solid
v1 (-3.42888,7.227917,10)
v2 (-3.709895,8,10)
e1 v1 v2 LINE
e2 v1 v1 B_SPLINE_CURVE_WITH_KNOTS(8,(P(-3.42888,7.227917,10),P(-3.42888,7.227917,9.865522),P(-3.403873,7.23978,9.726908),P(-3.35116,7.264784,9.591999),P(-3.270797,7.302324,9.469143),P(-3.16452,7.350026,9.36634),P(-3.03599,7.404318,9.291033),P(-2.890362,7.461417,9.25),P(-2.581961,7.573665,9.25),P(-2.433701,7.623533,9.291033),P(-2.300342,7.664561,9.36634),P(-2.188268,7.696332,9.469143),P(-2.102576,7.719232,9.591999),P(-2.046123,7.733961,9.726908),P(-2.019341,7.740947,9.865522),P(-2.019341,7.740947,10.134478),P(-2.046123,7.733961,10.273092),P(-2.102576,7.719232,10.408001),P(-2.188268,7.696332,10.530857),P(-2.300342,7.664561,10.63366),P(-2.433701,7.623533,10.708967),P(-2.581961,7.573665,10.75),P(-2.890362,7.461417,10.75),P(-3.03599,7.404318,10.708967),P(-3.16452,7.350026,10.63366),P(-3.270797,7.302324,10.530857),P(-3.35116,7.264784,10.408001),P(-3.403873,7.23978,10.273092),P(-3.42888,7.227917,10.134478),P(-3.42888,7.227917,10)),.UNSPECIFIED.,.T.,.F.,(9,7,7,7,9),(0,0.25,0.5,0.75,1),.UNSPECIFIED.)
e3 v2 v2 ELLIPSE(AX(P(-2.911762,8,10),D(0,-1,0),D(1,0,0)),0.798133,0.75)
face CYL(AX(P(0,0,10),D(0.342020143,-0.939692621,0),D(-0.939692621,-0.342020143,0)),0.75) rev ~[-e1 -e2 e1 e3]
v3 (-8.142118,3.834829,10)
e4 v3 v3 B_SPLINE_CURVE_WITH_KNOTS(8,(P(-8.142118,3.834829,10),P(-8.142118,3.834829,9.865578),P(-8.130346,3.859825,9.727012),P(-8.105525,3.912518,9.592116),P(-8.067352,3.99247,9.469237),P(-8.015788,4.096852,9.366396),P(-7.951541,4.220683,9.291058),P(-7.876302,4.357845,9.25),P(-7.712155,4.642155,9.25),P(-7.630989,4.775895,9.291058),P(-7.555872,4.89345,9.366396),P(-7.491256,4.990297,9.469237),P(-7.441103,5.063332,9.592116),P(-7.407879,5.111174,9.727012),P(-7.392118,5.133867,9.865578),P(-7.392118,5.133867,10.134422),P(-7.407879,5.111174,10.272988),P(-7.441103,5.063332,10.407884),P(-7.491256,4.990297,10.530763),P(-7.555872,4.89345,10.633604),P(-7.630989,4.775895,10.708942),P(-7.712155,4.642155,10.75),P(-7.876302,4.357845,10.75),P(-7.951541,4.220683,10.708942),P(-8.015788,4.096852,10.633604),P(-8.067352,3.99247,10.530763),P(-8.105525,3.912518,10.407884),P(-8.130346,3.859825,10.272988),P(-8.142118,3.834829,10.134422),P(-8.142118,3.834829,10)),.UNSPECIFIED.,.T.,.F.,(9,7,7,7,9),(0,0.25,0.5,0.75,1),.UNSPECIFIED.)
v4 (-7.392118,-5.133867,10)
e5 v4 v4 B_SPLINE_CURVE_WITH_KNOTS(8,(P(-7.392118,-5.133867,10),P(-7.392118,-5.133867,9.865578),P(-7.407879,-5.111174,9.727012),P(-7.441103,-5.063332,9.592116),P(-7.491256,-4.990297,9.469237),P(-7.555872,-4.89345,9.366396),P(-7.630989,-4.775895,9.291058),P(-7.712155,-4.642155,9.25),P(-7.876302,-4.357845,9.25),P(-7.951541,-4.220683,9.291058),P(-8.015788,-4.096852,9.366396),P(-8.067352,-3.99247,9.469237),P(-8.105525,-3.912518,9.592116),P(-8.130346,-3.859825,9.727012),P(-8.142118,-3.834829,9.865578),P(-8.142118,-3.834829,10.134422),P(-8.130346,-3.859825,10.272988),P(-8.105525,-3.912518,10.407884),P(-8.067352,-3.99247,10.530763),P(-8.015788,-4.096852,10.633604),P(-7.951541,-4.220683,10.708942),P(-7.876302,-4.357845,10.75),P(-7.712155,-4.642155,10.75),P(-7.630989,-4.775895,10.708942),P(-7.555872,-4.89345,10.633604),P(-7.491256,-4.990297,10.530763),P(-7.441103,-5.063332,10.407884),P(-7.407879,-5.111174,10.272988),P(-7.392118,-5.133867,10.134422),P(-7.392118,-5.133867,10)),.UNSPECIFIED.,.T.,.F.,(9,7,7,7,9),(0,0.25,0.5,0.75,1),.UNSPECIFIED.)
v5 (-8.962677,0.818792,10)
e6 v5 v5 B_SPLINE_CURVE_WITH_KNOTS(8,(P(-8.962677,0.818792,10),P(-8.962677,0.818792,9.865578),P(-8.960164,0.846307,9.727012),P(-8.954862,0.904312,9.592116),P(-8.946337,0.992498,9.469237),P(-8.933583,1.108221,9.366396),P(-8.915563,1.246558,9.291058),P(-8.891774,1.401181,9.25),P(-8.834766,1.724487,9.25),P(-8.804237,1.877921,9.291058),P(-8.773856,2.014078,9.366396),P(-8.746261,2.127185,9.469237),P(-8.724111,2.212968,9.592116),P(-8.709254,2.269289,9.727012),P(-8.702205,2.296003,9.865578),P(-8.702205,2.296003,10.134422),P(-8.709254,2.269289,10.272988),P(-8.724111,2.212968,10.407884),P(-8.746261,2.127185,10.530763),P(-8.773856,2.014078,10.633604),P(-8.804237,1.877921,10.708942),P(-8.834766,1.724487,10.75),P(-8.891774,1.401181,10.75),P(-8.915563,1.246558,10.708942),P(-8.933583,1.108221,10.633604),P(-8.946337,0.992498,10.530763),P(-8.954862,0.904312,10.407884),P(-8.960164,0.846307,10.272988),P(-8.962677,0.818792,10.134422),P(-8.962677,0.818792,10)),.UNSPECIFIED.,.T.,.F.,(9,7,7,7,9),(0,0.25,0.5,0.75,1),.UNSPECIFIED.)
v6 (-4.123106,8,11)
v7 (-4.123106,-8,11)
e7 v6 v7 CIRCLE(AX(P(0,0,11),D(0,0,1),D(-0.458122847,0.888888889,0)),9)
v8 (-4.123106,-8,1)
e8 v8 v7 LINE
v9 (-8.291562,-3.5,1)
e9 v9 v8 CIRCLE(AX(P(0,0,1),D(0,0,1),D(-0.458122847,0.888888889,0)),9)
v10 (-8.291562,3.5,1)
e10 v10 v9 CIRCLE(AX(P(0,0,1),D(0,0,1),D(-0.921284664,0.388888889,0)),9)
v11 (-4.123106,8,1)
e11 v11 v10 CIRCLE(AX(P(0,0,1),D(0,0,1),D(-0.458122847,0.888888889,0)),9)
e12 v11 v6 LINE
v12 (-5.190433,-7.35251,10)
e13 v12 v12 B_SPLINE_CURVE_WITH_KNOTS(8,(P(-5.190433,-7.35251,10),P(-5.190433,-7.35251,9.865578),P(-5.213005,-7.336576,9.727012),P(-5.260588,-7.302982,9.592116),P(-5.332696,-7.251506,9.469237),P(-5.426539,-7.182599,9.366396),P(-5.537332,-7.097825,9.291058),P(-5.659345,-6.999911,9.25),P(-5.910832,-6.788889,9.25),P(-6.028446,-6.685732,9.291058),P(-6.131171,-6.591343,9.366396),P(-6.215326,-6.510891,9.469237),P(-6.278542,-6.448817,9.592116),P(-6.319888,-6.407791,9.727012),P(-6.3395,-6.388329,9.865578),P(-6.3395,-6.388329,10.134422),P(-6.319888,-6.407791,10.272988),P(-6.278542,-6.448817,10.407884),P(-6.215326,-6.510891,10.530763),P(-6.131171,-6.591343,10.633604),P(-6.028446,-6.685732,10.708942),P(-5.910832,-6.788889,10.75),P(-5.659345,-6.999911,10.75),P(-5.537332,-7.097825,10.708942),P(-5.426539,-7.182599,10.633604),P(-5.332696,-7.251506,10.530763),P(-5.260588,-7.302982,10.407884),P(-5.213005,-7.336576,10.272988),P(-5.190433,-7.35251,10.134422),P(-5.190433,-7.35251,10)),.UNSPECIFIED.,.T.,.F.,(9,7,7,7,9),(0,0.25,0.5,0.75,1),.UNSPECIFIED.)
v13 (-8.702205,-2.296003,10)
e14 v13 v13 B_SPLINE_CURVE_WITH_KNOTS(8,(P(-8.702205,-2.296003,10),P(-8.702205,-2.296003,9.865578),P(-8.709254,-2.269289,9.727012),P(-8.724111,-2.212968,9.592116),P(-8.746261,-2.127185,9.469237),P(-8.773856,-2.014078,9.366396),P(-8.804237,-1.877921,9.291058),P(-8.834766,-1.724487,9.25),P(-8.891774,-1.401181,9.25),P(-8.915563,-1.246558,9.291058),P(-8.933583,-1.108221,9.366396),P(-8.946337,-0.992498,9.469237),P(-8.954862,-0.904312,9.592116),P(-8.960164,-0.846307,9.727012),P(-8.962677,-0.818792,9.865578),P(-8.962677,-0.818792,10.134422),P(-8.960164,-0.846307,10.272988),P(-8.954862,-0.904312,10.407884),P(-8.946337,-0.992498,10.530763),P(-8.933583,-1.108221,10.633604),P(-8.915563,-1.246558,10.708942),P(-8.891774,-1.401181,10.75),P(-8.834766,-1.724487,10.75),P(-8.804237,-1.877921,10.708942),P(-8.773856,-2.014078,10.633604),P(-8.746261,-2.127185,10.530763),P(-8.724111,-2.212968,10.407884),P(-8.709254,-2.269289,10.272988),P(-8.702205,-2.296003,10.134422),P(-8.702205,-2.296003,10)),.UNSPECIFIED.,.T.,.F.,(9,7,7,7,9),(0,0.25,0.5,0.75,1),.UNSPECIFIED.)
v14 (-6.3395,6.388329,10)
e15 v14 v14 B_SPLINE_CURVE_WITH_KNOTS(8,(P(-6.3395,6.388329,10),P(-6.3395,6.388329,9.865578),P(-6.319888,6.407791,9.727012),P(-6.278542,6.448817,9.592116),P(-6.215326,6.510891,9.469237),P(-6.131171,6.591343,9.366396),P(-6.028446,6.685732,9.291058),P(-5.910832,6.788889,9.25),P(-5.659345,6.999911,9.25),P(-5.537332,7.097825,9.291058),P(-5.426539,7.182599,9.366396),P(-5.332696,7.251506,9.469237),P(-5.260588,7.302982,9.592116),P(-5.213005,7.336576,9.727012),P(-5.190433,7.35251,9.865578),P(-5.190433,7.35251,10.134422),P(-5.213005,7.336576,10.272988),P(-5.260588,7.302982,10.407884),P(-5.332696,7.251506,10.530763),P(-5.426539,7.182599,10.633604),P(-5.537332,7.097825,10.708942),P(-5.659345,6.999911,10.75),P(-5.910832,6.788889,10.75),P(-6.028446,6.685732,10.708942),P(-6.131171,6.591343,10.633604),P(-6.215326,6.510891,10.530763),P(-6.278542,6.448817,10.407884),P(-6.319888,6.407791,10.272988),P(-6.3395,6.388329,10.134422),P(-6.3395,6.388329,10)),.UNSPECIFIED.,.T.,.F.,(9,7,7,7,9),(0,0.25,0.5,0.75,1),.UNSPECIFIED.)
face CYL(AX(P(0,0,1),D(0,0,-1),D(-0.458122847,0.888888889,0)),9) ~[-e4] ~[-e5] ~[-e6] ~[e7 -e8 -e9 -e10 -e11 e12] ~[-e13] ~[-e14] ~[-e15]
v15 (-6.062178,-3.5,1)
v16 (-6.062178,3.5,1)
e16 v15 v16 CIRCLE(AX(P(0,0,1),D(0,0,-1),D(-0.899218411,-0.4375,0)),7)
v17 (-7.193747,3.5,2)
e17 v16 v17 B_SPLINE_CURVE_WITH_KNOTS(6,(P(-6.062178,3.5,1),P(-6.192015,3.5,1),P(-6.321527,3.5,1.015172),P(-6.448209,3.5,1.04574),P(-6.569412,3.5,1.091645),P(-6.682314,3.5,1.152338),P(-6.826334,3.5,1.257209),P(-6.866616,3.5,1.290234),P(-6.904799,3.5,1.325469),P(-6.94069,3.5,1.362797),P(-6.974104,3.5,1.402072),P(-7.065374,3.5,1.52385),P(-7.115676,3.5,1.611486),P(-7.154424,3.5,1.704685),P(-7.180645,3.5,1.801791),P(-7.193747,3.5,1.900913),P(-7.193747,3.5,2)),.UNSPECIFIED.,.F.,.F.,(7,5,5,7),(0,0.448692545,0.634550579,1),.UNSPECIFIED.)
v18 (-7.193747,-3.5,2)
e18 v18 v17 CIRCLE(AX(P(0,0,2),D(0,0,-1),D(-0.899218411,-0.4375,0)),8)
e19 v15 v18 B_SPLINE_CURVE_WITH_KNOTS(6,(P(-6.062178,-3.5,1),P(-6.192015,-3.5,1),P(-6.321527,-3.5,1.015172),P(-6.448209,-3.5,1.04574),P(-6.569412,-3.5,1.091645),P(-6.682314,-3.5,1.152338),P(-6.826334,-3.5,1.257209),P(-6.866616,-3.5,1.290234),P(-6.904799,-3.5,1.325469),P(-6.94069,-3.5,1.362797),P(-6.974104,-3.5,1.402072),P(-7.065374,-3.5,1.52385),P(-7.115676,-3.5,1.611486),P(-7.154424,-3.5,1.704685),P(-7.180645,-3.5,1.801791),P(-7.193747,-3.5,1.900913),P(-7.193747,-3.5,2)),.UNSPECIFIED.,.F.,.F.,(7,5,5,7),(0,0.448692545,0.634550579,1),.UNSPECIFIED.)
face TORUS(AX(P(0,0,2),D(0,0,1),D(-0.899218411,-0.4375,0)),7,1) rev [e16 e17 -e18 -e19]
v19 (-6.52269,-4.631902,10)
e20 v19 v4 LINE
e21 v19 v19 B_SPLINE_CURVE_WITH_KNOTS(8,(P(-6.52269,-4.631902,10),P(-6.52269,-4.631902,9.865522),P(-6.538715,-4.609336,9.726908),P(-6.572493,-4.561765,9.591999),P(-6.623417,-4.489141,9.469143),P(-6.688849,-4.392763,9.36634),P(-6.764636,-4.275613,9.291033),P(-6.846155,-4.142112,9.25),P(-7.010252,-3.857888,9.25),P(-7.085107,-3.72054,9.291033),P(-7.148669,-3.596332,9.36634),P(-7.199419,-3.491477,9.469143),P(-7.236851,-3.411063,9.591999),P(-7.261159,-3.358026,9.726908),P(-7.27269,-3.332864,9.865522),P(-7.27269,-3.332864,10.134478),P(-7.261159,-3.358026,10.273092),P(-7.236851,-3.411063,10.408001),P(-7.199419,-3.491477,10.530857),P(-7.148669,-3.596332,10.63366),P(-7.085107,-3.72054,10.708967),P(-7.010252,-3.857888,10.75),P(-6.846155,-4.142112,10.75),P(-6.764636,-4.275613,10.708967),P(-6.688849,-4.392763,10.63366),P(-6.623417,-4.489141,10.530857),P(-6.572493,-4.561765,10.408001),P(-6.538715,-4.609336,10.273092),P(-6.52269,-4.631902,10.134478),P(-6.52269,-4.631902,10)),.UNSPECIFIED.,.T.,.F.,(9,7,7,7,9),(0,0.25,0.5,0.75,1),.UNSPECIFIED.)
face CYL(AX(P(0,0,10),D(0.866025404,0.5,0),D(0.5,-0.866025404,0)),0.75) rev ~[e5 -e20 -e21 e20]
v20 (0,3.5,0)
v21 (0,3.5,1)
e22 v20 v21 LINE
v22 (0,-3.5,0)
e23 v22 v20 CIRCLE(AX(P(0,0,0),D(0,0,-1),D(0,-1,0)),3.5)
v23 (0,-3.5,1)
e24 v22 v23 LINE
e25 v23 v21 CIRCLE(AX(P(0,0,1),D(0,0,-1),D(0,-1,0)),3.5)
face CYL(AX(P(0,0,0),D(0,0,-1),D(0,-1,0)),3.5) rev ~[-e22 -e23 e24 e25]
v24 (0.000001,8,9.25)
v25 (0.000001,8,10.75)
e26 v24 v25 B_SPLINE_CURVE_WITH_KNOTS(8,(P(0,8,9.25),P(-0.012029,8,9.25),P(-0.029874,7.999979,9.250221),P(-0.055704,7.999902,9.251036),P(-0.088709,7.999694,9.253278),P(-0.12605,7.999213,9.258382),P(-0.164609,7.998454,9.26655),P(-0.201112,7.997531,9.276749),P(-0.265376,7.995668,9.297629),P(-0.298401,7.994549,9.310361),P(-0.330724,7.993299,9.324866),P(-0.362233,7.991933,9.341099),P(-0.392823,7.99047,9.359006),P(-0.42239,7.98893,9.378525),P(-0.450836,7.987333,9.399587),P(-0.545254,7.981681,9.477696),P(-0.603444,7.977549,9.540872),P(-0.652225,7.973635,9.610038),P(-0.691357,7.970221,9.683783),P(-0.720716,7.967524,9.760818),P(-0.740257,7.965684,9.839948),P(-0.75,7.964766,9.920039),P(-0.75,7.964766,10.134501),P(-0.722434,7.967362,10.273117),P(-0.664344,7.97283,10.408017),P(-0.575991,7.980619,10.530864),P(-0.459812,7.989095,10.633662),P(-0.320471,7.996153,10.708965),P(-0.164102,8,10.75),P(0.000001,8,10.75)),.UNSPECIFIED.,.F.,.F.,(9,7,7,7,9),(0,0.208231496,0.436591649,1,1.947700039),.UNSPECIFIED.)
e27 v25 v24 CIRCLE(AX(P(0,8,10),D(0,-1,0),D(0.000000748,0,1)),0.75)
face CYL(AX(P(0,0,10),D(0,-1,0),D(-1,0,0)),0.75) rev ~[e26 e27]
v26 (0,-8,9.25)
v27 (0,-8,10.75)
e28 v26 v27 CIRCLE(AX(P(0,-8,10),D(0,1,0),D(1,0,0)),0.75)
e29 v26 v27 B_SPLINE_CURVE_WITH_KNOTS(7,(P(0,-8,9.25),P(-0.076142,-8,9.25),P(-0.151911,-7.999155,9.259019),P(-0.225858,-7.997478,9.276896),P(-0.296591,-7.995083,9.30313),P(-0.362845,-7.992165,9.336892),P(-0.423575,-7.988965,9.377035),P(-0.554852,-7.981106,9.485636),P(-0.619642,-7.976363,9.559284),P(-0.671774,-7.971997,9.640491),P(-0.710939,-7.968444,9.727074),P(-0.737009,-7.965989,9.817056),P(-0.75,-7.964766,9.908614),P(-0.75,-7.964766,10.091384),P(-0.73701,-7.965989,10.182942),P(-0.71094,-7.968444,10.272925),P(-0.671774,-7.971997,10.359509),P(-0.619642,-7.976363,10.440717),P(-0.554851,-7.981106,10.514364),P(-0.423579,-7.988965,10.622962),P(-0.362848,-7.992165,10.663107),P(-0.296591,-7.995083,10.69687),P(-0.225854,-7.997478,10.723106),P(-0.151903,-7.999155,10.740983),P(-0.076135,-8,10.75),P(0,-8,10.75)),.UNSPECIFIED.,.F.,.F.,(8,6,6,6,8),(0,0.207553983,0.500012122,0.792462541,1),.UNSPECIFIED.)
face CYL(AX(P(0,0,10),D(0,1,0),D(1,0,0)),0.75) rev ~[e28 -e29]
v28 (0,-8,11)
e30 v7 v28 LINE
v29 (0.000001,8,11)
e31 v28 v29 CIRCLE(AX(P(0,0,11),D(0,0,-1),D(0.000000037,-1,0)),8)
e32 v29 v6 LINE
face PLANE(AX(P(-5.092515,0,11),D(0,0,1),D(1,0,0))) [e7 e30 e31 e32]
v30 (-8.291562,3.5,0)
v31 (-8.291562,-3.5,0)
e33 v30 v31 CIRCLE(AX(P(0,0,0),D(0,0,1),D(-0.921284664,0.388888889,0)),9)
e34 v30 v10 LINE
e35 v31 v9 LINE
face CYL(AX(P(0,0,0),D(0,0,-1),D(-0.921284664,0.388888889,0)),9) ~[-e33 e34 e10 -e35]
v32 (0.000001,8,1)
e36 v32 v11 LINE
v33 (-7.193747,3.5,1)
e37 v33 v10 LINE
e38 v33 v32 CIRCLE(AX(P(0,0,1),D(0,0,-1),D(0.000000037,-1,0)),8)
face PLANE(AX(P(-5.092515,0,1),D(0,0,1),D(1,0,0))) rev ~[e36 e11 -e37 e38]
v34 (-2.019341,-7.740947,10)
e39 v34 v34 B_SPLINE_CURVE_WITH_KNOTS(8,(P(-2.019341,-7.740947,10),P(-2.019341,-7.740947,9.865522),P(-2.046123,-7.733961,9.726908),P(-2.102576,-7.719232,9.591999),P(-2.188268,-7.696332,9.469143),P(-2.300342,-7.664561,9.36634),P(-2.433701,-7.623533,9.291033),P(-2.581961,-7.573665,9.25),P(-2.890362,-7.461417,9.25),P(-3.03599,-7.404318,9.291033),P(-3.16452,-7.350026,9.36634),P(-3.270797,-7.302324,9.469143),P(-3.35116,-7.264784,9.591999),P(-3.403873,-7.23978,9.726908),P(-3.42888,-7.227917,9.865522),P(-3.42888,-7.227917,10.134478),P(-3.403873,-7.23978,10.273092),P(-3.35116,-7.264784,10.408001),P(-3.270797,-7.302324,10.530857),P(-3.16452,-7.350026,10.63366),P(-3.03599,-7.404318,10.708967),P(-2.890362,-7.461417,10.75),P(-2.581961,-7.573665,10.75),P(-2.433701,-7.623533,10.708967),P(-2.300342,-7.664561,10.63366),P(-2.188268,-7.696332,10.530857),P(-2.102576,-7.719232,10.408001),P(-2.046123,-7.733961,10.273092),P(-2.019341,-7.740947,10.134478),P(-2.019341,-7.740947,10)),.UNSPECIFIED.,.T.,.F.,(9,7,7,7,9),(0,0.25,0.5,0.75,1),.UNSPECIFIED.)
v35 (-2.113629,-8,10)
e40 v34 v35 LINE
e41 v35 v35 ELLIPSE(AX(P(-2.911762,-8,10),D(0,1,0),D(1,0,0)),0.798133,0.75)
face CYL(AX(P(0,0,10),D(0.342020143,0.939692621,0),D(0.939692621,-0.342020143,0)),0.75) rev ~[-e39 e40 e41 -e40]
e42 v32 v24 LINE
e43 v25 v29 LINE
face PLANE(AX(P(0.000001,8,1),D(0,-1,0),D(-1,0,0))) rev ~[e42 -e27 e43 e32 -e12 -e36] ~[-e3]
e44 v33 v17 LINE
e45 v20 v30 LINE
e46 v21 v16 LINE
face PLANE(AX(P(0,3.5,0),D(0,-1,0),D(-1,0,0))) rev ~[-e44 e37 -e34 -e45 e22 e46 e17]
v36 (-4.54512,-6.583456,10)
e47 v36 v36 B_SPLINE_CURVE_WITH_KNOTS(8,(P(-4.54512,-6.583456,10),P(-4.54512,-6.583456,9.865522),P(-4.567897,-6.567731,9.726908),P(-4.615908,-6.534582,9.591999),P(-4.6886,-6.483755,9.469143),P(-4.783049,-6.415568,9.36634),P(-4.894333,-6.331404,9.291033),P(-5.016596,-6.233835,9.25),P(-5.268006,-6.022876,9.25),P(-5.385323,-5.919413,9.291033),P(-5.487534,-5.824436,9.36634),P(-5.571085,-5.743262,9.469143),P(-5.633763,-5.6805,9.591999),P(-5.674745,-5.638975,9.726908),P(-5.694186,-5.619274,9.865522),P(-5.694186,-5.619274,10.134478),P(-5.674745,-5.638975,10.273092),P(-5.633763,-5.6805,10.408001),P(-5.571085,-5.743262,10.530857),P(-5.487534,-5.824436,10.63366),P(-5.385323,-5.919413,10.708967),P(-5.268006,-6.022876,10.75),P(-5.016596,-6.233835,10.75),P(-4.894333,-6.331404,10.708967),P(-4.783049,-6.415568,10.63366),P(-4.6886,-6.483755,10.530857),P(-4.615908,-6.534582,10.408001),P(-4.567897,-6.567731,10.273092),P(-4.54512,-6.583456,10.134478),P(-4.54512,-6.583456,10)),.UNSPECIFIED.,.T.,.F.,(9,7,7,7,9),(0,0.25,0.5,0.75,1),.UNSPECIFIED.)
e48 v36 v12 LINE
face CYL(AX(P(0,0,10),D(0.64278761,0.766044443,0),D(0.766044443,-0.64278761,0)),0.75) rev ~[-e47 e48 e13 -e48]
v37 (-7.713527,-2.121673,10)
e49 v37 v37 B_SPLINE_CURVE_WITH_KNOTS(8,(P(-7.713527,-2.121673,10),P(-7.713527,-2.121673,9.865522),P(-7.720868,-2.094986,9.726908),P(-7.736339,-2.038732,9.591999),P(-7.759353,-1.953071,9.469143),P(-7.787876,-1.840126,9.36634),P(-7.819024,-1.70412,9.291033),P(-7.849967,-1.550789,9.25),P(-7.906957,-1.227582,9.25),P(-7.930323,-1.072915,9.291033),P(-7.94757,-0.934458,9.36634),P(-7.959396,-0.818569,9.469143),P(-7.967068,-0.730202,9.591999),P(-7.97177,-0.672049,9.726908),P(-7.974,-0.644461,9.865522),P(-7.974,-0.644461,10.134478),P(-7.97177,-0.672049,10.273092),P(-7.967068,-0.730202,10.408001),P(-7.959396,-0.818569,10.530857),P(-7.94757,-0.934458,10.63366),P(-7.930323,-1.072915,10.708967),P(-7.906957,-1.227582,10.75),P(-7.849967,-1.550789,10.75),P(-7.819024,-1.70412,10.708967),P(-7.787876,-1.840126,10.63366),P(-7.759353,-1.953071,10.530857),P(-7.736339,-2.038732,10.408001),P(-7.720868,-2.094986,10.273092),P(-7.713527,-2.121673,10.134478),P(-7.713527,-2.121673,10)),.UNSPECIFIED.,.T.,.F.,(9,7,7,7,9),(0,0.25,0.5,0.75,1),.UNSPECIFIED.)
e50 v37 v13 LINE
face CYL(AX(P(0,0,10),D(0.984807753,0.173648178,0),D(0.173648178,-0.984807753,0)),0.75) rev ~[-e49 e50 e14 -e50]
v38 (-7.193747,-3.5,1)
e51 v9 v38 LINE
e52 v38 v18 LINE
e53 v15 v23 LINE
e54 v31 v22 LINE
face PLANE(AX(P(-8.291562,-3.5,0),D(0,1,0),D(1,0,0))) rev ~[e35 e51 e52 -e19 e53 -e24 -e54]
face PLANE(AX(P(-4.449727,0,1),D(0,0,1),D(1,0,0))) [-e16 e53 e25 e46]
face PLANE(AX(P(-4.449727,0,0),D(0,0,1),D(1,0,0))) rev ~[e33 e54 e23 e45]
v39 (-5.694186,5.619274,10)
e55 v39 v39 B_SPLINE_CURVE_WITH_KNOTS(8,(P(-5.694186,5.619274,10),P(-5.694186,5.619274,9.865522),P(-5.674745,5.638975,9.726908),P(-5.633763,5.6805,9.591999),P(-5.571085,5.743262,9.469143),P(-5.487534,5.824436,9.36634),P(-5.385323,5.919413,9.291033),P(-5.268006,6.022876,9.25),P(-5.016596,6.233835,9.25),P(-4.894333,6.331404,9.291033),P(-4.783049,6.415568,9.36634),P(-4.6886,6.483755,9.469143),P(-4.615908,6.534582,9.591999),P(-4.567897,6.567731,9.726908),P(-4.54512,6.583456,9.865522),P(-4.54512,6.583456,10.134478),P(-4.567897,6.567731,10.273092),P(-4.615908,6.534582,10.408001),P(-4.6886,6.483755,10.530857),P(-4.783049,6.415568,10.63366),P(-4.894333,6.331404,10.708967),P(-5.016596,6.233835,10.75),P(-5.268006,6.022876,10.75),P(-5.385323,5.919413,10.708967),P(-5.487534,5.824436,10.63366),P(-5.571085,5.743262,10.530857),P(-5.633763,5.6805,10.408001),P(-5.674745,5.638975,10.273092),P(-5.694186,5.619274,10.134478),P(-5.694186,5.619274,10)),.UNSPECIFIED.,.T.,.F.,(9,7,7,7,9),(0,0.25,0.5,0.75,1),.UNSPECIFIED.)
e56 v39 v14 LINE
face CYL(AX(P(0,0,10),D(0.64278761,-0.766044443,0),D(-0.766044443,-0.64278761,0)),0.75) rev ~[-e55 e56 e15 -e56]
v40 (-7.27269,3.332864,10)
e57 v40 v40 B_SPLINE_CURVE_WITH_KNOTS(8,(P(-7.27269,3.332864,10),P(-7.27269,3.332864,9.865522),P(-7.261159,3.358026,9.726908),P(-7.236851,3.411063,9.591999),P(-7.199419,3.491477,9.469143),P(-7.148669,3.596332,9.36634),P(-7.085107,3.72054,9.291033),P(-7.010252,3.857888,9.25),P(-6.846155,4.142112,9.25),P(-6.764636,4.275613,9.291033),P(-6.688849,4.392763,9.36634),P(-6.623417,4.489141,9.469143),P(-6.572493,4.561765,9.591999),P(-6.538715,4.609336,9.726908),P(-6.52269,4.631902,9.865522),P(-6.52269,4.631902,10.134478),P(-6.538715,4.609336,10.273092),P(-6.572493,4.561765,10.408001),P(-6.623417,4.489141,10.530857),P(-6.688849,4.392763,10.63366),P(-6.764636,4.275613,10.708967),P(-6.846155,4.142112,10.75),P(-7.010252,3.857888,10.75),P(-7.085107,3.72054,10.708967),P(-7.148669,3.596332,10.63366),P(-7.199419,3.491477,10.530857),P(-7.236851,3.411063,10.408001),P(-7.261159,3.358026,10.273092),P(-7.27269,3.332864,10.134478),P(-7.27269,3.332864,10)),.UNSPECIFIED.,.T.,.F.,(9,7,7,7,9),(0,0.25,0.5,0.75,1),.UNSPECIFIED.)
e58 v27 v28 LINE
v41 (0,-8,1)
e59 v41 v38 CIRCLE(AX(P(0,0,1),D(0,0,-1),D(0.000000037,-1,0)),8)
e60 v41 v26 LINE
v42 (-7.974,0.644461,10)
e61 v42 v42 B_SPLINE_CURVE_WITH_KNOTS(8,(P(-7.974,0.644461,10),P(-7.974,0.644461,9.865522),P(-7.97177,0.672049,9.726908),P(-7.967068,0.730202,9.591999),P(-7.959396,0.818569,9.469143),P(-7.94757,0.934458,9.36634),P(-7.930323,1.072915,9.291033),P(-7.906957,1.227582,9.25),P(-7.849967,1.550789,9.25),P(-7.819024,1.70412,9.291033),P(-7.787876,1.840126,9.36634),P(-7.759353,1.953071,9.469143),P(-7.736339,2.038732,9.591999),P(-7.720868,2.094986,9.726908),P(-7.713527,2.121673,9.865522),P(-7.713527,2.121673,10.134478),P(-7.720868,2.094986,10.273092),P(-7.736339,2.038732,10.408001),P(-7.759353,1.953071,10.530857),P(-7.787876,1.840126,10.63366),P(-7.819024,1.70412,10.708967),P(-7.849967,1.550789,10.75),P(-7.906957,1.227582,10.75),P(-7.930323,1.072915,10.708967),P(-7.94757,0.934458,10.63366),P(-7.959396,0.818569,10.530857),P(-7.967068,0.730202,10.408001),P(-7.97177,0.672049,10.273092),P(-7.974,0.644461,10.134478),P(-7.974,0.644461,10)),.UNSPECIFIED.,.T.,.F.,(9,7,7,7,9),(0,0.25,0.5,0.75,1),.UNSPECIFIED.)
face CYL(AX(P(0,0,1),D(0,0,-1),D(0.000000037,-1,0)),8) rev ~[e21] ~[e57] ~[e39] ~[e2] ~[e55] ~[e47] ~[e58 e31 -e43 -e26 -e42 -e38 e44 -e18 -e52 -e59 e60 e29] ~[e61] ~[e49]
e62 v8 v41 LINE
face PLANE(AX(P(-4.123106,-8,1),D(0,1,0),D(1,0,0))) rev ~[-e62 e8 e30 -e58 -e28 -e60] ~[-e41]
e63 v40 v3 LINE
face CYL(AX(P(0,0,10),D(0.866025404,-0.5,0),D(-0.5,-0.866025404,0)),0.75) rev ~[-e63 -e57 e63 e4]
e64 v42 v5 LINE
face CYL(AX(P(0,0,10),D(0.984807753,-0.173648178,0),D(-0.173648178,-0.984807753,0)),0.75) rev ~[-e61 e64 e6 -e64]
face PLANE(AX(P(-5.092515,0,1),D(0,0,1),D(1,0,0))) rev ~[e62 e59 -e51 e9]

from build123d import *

# Parameters (mm, degrees)
EXTRUDE_1_DEPTH          = 1
EXTRUDE_2_DEPTH          = 10
SKETCH_3_R               = 0.75
CUT_EXTRUDE_1_DEPTH      = 10
PATTERN_CIRCULAR_1_COUNT = 18
FILLET_1_R               = 1


with BuildPart() as part:
    # Эскиз1 → Бобышка-Вытянуть1 (new body)
    with BuildSketch(Plane.XY):
        with BuildLine():
            Line((0, 3.5), (-8.291561976, 3.5))
            ThreePointArc((-8.291561976, 3.5), (-9, 0), (-8.291561976, -3.5))
            Line((-8.291561976, -3.5), (0, -3.5))
            ThreePointArc((0, -3.5), (-3.5, 0), (0, 3.5))
        make_face()
    extrude(amount=EXTRUDE_1_DEPTH)

    # Эскиз2 → Бобышка-Вытянуть2 (add)
    with BuildSketch(Plane.XY.offset(1)):
        with BuildLine():
            Line((5.61e-07, 8), (-4.123105626, 8))
            ThreePointArc((-4.123105626, 8), (-9, 0), (-4.123105626, -8))
            Line((-4.123105626, -8), (2.99e-07, -8))
            ThreePointArc((2.99e-07, -8), (-8, 1.31e-07), (5.61e-07, 8))
        make_face()
    extrude(amount=EXTRUDE_2_DEPTH)

    # Эскиз3 → Вырез-Вытянуть1 (cut)
    with BuildSketch(Plane(origin=(0, 0, 0), x_dir=(1, 0, 0), z_dir=(0, 1, 0))):
        with Locations((0, -10)):
            Circle(SKETCH_3_R)
    cut_extrude_1 = extrude(amount=-CUT_EXTRUDE_1_DEPTH, mode=Mode.SUBTRACT)

    # Круговой массив1: Вырез-Вытянуть1 ×18 about axis
    pattern_circular_1_axis = Axis((0, 0, 0), (0, 0, -1))
    for i in range(1, PATTERN_CIRCULAR_1_COUNT):
        add(cut_extrude_1.rotate(pattern_circular_1_axis, i * 360 / PATTERN_CIRCULAR_1_COUNT), mode=Mode.SUBTRACT)

    # Скругление1
    fillet_1_edges = [part.edges().sort_by_distance(p)[0] for p in [
        (-8, 0, 1),
    ]]
    fillet(fillet_1_edges, radius=FILLET_1_R)


solid = part.part
